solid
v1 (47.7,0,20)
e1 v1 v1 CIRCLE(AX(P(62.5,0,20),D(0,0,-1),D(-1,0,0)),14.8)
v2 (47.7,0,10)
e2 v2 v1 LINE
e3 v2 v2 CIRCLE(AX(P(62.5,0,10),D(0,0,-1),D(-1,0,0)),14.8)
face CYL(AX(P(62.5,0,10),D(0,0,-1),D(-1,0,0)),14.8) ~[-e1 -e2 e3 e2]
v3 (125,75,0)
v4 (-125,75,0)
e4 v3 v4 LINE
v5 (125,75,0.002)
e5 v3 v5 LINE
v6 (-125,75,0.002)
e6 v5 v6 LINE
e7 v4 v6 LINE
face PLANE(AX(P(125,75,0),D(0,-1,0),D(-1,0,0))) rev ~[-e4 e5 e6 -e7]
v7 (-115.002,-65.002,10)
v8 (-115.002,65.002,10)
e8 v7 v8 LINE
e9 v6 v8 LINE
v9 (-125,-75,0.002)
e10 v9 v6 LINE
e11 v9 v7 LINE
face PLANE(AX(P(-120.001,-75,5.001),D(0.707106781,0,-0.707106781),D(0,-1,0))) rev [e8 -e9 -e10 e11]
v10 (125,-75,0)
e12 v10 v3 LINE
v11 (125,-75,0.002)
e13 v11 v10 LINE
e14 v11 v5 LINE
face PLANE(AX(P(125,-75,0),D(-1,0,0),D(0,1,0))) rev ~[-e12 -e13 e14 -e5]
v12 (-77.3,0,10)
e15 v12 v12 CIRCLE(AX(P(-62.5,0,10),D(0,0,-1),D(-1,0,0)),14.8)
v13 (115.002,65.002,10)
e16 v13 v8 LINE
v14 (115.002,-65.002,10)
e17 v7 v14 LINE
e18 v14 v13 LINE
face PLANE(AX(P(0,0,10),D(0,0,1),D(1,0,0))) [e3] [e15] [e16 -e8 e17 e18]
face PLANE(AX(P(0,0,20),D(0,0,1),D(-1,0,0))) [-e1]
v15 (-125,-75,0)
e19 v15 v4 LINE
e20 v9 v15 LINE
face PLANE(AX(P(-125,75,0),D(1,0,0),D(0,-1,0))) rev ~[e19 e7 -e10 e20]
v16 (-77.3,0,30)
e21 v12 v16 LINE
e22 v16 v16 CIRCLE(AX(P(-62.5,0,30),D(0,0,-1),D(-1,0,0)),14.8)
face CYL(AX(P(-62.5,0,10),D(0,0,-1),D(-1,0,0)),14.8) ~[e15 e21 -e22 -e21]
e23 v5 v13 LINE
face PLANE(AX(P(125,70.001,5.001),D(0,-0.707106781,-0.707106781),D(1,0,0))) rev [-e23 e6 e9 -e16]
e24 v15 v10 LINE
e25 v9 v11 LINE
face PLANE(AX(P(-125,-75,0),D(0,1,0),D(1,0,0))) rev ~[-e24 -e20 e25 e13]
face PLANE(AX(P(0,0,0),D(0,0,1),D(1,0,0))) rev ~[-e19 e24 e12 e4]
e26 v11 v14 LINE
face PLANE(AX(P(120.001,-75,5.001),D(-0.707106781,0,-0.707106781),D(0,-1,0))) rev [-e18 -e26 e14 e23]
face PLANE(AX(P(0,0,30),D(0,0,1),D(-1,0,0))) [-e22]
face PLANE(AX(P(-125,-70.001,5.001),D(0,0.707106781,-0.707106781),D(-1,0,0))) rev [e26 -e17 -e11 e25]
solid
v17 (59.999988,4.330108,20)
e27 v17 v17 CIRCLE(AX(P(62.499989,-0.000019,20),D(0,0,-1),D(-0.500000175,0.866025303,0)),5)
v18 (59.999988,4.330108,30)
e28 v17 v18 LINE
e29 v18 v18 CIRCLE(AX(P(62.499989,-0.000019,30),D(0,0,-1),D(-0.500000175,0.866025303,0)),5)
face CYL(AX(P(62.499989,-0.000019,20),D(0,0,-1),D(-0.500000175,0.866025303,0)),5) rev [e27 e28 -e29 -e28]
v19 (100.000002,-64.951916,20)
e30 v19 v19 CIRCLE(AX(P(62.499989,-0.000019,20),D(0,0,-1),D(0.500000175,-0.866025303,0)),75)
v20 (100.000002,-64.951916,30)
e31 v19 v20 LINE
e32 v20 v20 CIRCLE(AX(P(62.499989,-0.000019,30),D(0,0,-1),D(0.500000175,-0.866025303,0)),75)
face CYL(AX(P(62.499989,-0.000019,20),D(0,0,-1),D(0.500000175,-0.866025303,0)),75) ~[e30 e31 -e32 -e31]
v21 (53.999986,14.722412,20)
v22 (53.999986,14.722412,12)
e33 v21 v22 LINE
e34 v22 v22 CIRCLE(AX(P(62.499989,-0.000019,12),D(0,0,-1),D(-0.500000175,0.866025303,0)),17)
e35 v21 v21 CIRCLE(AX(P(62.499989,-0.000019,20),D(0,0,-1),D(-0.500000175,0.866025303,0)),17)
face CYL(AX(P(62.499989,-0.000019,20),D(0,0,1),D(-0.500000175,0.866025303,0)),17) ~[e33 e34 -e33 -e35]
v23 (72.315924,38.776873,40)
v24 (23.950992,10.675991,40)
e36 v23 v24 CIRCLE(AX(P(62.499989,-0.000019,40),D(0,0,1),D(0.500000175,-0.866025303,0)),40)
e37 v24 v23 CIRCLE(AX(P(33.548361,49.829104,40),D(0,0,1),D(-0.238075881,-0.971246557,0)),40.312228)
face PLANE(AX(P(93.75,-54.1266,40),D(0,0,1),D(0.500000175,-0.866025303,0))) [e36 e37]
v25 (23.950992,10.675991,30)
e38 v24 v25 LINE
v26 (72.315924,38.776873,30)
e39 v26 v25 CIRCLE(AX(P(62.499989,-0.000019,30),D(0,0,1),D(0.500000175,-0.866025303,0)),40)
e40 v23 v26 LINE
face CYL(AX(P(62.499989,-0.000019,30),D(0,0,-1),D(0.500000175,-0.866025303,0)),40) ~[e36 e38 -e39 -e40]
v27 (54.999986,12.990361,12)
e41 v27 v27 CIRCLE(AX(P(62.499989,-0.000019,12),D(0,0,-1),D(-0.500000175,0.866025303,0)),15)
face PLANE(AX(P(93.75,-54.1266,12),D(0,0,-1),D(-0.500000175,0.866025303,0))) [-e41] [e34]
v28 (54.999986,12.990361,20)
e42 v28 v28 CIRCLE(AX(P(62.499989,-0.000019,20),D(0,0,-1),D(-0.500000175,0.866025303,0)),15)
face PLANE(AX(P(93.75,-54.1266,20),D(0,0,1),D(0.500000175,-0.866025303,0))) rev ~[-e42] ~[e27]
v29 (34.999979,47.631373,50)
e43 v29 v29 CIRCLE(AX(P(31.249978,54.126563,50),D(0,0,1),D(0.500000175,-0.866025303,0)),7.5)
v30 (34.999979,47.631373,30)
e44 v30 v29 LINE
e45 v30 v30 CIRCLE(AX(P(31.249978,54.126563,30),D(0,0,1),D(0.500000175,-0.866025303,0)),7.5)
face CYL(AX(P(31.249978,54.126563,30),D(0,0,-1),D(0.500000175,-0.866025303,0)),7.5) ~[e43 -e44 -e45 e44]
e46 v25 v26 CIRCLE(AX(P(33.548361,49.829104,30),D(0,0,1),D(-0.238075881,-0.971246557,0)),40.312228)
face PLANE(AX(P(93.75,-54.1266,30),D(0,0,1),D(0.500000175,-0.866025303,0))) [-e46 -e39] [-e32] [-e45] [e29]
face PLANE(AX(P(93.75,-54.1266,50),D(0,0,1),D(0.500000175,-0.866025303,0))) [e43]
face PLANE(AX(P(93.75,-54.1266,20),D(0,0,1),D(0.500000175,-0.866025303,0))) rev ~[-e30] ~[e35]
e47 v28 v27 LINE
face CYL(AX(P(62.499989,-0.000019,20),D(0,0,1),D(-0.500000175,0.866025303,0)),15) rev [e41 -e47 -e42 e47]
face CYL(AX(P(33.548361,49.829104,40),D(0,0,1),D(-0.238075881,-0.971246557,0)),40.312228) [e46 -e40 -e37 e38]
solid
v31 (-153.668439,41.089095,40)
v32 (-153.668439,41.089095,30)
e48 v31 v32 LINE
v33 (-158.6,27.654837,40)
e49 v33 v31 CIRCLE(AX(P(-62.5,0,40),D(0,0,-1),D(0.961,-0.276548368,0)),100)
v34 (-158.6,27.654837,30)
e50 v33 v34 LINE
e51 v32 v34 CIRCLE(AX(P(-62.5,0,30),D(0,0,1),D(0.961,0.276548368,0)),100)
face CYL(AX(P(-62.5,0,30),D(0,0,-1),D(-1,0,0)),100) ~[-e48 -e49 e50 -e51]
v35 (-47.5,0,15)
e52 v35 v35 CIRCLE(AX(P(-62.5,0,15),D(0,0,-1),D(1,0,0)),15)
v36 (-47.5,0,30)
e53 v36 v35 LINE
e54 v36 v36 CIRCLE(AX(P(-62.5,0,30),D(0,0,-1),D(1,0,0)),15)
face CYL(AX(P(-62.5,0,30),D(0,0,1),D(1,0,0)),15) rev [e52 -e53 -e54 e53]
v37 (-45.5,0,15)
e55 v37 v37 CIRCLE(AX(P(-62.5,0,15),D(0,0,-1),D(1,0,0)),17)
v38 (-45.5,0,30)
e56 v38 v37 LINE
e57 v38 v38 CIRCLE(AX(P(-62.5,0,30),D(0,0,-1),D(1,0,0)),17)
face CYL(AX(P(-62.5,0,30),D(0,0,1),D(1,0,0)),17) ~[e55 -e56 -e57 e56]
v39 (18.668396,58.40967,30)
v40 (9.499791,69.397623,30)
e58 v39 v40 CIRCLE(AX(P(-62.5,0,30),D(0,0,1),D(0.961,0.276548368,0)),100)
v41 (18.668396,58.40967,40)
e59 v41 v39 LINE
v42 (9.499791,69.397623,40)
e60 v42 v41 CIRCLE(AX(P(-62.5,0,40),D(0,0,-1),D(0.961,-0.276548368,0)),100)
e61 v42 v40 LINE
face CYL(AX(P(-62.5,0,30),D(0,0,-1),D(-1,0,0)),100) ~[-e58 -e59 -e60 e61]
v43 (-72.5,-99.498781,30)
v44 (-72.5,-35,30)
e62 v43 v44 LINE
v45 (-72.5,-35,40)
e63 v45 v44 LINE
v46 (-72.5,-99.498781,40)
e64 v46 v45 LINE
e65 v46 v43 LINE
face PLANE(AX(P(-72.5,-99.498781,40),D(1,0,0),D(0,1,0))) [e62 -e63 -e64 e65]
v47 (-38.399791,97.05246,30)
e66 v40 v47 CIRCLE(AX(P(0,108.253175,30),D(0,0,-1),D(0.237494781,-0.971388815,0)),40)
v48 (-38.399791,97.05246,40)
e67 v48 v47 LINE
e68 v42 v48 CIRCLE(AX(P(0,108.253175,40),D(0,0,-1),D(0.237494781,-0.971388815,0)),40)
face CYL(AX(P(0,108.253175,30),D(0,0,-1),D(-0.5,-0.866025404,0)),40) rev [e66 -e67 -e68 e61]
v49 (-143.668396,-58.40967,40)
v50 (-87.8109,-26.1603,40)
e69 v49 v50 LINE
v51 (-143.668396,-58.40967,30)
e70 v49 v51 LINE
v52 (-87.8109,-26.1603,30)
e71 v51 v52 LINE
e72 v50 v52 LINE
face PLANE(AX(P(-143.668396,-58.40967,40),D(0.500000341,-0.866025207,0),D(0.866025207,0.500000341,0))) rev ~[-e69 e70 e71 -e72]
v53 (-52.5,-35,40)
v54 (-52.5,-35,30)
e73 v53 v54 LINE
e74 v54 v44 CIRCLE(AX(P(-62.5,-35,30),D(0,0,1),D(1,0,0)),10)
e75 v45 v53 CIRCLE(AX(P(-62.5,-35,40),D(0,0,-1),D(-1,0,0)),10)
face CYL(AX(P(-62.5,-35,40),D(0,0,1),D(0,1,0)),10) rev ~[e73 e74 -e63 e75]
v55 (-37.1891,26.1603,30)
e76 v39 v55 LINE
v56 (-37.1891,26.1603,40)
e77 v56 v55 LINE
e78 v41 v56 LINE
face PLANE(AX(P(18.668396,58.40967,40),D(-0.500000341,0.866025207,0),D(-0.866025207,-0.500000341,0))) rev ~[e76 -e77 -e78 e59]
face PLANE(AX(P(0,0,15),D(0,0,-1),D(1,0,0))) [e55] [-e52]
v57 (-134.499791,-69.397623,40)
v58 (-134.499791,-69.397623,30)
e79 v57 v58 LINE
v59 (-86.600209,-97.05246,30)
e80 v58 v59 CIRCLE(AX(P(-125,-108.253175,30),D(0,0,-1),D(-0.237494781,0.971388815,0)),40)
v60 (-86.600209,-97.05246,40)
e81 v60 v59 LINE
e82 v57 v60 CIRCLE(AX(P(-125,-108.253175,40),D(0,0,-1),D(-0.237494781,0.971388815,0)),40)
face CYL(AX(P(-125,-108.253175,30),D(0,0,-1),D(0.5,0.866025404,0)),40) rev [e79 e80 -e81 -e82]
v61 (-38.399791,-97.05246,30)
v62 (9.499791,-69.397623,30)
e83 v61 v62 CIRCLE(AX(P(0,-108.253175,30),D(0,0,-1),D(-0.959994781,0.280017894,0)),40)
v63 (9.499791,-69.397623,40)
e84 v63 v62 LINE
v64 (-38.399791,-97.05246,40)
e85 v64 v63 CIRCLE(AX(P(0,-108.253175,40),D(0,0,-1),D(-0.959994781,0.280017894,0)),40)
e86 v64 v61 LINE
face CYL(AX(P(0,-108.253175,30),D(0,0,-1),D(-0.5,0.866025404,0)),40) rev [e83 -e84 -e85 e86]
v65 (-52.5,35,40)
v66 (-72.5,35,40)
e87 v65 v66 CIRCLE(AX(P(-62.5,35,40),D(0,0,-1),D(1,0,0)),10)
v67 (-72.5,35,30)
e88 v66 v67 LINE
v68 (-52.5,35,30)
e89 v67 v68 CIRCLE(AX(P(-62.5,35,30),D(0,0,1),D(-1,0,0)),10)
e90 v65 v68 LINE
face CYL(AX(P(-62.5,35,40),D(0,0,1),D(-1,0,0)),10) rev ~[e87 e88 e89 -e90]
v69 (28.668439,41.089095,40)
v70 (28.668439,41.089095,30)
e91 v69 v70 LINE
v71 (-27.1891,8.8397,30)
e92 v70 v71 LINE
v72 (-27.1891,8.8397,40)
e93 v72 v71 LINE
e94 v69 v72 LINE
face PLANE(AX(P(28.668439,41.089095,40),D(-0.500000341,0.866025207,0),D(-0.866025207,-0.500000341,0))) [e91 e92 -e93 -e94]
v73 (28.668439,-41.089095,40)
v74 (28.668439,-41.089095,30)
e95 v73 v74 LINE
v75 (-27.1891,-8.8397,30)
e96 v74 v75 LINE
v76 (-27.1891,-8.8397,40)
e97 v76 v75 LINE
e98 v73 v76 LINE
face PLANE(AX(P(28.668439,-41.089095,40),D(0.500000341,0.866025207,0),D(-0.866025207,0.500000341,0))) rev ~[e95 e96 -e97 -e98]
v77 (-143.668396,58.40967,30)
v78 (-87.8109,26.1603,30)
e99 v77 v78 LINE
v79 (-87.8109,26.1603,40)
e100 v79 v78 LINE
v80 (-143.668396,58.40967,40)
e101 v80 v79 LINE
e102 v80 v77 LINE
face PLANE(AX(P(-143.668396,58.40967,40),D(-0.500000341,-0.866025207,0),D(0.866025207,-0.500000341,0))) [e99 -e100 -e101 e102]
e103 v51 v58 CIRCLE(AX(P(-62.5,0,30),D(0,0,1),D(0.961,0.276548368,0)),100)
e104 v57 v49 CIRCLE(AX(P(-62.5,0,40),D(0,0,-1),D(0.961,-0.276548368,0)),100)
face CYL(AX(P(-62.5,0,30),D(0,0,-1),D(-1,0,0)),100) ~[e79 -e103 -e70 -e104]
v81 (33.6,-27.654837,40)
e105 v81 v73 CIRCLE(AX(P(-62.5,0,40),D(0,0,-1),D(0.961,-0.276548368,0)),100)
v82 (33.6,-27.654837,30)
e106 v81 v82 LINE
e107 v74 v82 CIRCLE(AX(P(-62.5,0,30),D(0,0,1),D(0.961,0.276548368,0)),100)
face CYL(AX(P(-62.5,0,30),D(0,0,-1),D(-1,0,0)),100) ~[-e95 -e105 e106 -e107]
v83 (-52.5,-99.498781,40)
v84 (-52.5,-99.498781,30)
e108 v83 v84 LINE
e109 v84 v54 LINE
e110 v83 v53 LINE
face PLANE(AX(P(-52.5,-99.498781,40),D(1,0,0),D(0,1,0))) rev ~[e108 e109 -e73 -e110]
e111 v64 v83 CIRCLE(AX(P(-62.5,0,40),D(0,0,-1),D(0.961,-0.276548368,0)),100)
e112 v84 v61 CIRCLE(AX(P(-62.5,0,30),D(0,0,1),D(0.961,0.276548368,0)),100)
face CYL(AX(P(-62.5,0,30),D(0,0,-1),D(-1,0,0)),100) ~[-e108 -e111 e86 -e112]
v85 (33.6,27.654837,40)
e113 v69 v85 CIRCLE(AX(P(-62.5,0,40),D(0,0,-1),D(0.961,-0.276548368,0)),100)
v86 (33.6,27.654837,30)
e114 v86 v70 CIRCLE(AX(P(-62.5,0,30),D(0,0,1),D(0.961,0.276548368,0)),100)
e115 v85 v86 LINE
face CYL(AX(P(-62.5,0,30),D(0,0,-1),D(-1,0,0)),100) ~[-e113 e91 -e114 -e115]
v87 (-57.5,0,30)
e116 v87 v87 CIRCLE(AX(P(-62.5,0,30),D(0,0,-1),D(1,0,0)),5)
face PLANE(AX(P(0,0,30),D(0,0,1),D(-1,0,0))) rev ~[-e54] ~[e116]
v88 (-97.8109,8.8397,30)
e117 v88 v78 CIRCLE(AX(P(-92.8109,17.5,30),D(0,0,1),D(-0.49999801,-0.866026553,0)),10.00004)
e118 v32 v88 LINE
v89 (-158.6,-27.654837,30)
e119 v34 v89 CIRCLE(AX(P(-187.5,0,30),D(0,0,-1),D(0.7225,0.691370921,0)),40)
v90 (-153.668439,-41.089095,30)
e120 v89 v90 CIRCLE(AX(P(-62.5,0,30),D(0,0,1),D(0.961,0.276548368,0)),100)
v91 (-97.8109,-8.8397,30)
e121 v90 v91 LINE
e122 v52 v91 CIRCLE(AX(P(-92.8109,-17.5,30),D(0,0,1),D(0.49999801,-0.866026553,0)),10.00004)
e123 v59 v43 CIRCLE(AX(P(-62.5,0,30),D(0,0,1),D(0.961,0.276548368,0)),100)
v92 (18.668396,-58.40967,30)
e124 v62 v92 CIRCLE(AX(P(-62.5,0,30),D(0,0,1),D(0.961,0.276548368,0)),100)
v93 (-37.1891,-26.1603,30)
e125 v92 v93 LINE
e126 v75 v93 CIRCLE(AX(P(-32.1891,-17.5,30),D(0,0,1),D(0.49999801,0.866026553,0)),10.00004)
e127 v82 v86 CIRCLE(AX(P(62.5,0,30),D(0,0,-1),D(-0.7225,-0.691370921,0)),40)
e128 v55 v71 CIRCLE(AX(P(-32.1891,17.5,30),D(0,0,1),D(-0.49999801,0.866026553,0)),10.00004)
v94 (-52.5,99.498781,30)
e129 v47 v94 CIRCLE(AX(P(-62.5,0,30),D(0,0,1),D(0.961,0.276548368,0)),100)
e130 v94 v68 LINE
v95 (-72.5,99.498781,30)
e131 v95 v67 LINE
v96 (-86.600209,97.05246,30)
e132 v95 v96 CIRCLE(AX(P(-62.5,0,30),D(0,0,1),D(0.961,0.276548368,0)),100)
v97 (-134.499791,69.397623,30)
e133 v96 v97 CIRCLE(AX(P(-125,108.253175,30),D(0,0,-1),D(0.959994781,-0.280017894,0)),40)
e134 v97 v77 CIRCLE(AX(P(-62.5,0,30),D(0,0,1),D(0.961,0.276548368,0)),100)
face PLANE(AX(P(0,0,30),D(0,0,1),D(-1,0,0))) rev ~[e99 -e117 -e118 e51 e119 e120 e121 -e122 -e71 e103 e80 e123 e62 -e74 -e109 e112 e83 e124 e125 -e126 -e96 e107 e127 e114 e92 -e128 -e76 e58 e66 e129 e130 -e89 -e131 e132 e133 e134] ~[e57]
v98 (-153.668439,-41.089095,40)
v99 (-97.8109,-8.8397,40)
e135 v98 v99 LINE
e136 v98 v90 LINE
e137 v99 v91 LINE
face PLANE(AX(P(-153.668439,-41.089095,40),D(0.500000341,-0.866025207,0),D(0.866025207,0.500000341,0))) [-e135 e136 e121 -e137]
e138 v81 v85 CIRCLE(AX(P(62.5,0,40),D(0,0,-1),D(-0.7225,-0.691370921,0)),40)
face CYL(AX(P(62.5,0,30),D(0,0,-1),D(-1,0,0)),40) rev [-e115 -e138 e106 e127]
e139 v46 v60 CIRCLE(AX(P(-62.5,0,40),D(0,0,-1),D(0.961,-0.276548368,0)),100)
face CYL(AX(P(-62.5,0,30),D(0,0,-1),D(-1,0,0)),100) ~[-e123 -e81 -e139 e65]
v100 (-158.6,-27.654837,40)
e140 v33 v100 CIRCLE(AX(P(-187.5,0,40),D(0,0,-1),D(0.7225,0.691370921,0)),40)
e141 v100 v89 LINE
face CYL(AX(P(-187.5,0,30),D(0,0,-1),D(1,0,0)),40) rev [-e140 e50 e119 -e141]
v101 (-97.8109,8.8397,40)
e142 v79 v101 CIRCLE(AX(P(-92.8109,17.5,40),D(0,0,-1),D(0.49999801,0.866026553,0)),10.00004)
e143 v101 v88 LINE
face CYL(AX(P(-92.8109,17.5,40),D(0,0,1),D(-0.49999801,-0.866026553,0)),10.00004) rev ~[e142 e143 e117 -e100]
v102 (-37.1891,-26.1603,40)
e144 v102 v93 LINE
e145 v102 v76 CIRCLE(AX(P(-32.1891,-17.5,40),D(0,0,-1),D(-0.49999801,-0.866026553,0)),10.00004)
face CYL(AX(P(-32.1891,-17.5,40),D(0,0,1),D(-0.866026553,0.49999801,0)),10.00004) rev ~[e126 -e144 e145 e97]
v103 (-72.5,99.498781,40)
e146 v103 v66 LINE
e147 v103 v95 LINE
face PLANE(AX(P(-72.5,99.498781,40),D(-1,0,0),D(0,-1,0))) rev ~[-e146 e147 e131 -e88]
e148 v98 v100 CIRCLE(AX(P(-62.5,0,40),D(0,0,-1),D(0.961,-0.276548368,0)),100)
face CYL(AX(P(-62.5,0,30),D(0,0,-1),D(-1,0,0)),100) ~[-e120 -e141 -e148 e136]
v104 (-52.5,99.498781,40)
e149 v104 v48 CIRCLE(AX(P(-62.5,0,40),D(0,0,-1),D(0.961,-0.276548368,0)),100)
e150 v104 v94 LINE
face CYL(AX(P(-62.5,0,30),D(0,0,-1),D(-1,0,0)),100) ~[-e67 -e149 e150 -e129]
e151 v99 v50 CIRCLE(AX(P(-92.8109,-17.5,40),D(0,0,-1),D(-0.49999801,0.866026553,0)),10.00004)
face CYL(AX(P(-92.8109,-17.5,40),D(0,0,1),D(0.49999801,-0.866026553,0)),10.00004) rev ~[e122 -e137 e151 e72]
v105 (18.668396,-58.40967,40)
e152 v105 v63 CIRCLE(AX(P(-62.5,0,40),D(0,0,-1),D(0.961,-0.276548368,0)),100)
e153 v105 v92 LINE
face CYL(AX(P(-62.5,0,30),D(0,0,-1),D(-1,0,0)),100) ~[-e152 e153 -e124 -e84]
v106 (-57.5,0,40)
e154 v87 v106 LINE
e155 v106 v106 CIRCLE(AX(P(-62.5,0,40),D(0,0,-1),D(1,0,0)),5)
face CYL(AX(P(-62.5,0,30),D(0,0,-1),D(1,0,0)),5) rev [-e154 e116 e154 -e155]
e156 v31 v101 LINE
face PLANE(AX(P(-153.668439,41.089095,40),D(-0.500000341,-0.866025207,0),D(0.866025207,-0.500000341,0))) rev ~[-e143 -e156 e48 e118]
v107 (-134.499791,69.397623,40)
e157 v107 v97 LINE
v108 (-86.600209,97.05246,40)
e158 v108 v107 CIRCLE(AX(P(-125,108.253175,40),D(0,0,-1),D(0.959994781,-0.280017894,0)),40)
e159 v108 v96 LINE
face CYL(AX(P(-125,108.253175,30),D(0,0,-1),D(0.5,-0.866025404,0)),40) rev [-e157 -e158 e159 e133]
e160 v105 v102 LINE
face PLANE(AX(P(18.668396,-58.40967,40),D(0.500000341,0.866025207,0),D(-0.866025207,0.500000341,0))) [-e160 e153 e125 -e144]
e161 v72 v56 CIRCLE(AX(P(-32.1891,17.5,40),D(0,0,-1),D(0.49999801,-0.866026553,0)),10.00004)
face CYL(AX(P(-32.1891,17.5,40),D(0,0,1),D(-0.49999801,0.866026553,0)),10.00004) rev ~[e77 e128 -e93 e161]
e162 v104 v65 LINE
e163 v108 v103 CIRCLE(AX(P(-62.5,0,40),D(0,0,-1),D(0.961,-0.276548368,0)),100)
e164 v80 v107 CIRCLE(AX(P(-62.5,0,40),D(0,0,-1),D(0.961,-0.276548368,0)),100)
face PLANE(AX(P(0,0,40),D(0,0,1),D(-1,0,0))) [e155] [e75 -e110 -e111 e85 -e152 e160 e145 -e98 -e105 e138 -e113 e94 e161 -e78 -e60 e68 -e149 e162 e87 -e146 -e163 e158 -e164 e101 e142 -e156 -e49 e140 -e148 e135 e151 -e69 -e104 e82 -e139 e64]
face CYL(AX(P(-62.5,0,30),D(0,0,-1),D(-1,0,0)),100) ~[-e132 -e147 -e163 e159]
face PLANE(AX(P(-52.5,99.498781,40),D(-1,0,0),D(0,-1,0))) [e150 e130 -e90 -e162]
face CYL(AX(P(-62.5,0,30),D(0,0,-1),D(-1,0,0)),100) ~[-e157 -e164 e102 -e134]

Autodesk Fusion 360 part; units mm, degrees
sketch "Base" plane through (0, 0, 0) normal (0, 0, 1) x (1, 0, 0) in component "Base"
  line L0 (125, 75) -> (-125, 75)
  line L1 (-125, 75) -> (-125, -75)
  line L2 (-125, -75) -> (125, -75)
  line L3 (125, -75) -> (125, 75)
  line L4 (125, 75) -> (-125, -75) construction
  line L5 (-125, 75) -> (125, -75) construction
  dimension "d1" = 250
  dimension "d2" = 150
extrude "Extrude1" add sketch "Base" along normal blind 10 makes body 1 in component "Base"
sketch "Wheels" plane through (0, 0, 10) normal (0, 0, 1) x (-1, 0, 0) in component "Base"
  line L0 (-125, 75) -> (-125, -75)
  line L1 (-125, -75) -> (125, -75)
  line L2 (125, -75) -> (125, 75)
  line L3 (125, 75) -> (-125, 75)
  line L4 (0, 0) -> (-125, 0) construction
  line L5 (0, 0) -> (125, 0) construction
  line L6 (0, -75) -> (0, 75) construction
  circle A0 centre (-62.5, 0) radius 75
  circle A1 centre (62.5, 0) radius 75
  circle A2 centre (-62.5, 0) radius 15
  circle A3 centre (62.5, 0) radius 15
  dimension "d5" = 150
  dimension "d6" = 30
  dimension "d7" = 30
extrude "Extrude2" add sketch "Wheels" along normal blind 20 and the other way blind -10 separate body contours L0 A0 A1 | L0 A0 | A0 A1 makes body 2 in component "Base"
copy_body "CutPasteBodies1" bodies 2 removing the originals makes body 3 in component "Crank"
extrude "Extrude3" add sketch "Wheels" along normal blind 10 contours A2 bodies 1 in component "Base"
extrude "Extrude1'" add sketch "Wheels" along normal blind 30 and the other way blind -20 separate body contours L2 A0 A1 | A0 A1 | L2 A1 makes body 4 in component "Snowflake"
extrude "Extrude4" add sketch "Wheels" along normal blind 20 contours A3 bodies 1 in component "Base"
move_face "OffsetFaces1" offset 25 1 faces at (-137.1273, -7.4676, 36.6667) on bodies 4 in component "Snowflake"
move_face "OffsetFaces2" offset 20 1 faces at (-77.4814, -0.7477, 33.3333) on bodies 4 in component "Snowflake"
move_face "OffsetFaces1'" offset 20 1 faces at (47.5186, 0.7477, 26.6667) on bodies 3 in component "Crank"
sketch "Holder" plane through (0, 0, 30) normal (0, 0, -1) x (1, 0, 0) in component "Snowflake"
  circle A0 centre (-62.5, 0) radius 100
  circle A1 centre (-62.5, 0) radius 15
  circle A2 centre (-62.5, 0) radius 17
  dimension "d25" = 30
  dimension "d26" = 2
extrude "Extrude3'" add sketch "Holder" along normal blind 15 contours A2 bodies 4 in component "Snowflake"
sketch "Holder (2)" plane through (0, 0, 20) normal (0, 0, -1) x (1, 0, 0) in component "Crank"
  circle A0 centre (62.5, 0) radius 75
  circle A1 centre (62.5, 0) radius 15
  circle A2 centre (62.5, 0) radius 17
  dimension "d29" = 30
  dimension "d30" = 2
extrude "Extrude1''" add sketch "Holder (2)" along normal blind 8 contours A2 bodies 3 in component "Crank"
move_face "OffsetFaces1''" offset -0.2 1 faces at (-77.4814, 0.7477, 23.3333) on bodies 1 in component "Base"
move_face "OffsetFaces2'" offset -0.2 1 faces at (47.5186, -0.7477, 13.3333) on bodies 1 in component "Base"
sketch "Middle" plane through (0, 0, 30) normal (0, 0, 1) x (-1, 0, 0) in component "Crank"
  circle A0 centre (-62.5, 0) radius 75
  circle A1 centre (-62.5, 0) radius 40
  dimension "d43" = 80
extrude "Extrude2'" add sketch "Middle" along normal blind 10 contours A1 bodies 3 in component "Crank"
extrude "Extrude4'" cut sketch "Middle" along normal blind 10 contours A1 bodies 4 in component "Snowflake"
pattern_circular "C-Pattern1" count 6 over 360 about axis through (-62.5, 0, 40) along (0, 0, 1) of "Extrude4'" in component "Snowflake"
sketch "Pin" plane through (0, 0, 30) normal (0, 0, 1) x (-1, 0, 0) in component "Crank"
  circle A0 centre (-62.5, 0) radius 40
  circle A1 centre (-62.5, 0) radius 75
  circle A2 centre (-125, 0) radius 7.5
  dimension "d50" = 15
extrude "Extrude3''" add sketch "Pin" along normal blind 20 contours A2 bodies 3 in component "Crank"
sketch "Middle cut" plane through (0, 0, 40) normal (0, 0, 1) x (-1, 0, 0) in component "Crank"
  circle A0 centre (-62.5, 0) radius 40
  arc A1 (-91.0202, -28.0464) -> (-91.1738, 27.8893) centre (-120.1291, -0.1582) ccw
  circle A2 centre (-62.5, 0) radius 40
sketch "Pin holes" plane through (0, 0, 40) normal (0, 0, 1) x (-1, 0, 0) in component "Snowflake"
  arc A0 (-9.4998, 69.3976) -> (38.3998, 97.0525) centre (0, 108.2532) ccw
  arc A1 (-9.4998, 69.3976) -> (-33.6, 27.6548) centre (62.5, 0) ccw
  arc A2 (-33.6, -27.6548) -> (-33.6, 27.6548) centre (-62.5, 0) ccw
  arc A3 (-33.6, -27.6548) -> (-9.4998, -69.3976) centre (62.5, 0) ccw
  arc A4 (38.3998, -97.0525) -> (-9.4998, -69.3976) centre (0, -108.2532) ccw
  arc A5 (38.3998, -97.0525) -> (86.6002, -97.0525) centre (62.5, 0) ccw
  arc A6 (134.4998, -69.3976) -> (86.6002, -97.0525) centre (125, -108.2532) ccw
  arc A7 (134.4998, -69.3976) -> (158.6, -27.6548) centre (62.5, 0) ccw
  arc A8 (158.6, 27.6548) -> (158.6, -27.6548) centre (187.5, 0) ccw
  arc A9 (158.6, 27.6548) -> (134.4998, 69.3976) centre (62.5, 0) ccw
  arc A10 (86.6002, 97.0525) -> (134.4998, 69.3976) centre (125, 108.2532) ccw
  arc A11 (86.6002, 97.0525) -> (38.3998, 97.0525) centre (62.5, 0) ccw
  circle A12 centre (62.5, 0) radius 25
  line L0 (62.5, -100) -> (62.5, 100) construction
  line L1 (62.5, -100) -> (72.5, -100) construction
  line L2 (62.5, -100) -> (52.5, -100) construction
  line L3 (72.5, -100) -> (72.5, -35)
  line L4 (52.5, -100) -> (52.5, -35)
  line L5 (62.5, -25) -> (62.5, -25)
  arc A13 (72.5, -35) -> (62.5, -25) centre (62.5, -35) ccw
  arc A14 (62.5, -25) -> (52.5, -35) centre (62.5, -35) ccw
  line L6 (144.1025, -58.6603) -> (87.8109, -26.1603)
  line L7 (154.1025, -41.3397) -> (97.8109, -8.8397)
  arc A15 (97.8109, -8.8397) -> (84.1506, -12.5) centre (92.8109, -17.5) ccw
  arc A16 (84.1506, -12.5) -> (87.8109, -26.1603) centre (92.8109, -17.5) ccw
  line L8 (149.1025, -50) -> (144.1025, -58.6603) construction
  line L9 (149.1025, -50) -> (154.1025, -41.3397) construction
  line L10 (154.1025, 41.3397) -> (97.8109, 8.8397)
  line L11 (144.1025, 58.6603) -> (87.8109, 26.1603)
  arc A17 (87.8109, 26.1603) -> (84.1506, 12.5) centre (92.8109, 17.5) ccw
  arc A18 (84.1506, 12.5) -> (97.8109, 8.8397) centre (92.8109, 17.5) ccw
  line L12 (149.1025, 50) -> (154.1025, 41.3397) construction
  line L13 (149.1025, 50) -> (144.1025, 58.6603) construction
  line L14 (72.5, 100) -> (72.5, 35)
  line L15 (52.5, 100) -> (52.5, 35)
  arc A19 (52.5, 35) -> (62.5, 25) centre (62.5, 35) ccw
  arc A20 (62.5, 25) -> (72.5, 35) centre (62.5, 35) ccw
  line L16 (62.5, 100) -> (72.5, 100) construction
  line L17 (62.5, 100) -> (52.5, 100) construction
  line L18 (-19.1025, 58.6603) -> (37.1891, 26.1603)
  line L19 (-29.1025, 41.3397) -> (27.1891, 8.8397)
  arc A21 (27.1891, 8.8397) -> (40.8494, 12.5) centre (32.1891, 17.5) ccw
  arc A22 (40.8494, 12.5) -> (37.1891, 26.1603) centre (32.1891, 17.5) ccw
  line L20 (-24.1025, 50) -> (-19.1025, 58.6603) construction
  line L21 (-24.1025, 50) -> (-29.1025, 41.3397) construction
  line L22 (-29.1025, -41.3397) -> (27.1891, -8.8397)
  line L23 (-19.1025, -58.6603) -> (37.1891, -26.1603)
  arc A23 (37.1891, -26.1603) -> (40.8494, -12.5) centre (32.1891, -17.5) ccw
  arc A24 (40.8494, -12.5) -> (27.1891, -8.8397) centre (32.1891, -17.5) ccw
  line L24 (-24.1025, -50) -> (-29.1025, -41.3397) construction
  line L25 (-24.1025, -50) -> (-19.1025, -58.6603) construction
  dimension "d56" = 50
  dimension "d59" = 10
  dimension "d60" = 10
  dimension "d61" = 10
  dimension "d63" = 360
extrude "Extrude5" cut sketch "Pin holes" against normal blind 10 contours A1 L18 L19 A21 A22 | A11 L14 L15 A19 A20 | A3 L22 L23 A23 A24 | A9 L10 L11 A17 A18 | A5 L3 L4 A13 A14 | A7 L6 L7 A15 A16 bodies 4 in component "Snowflake"
extrude "Extrude5'" cut sketch "Middle cut" against normal blind 10 contours A0 A1 A2 picked at (-41.7869, 2.8878) bodies 3 in component "Crank"
chamfer "Chamfer1" distance 10 angle 45 4 edges at (0, -75, 10) (125, 0, 10) (0, 75, 10) (-125, 0, 10) on bodies 1 in component "Base"
extrude "Extrude4''" [suppressed] in component "Crank"
component "Base" placed x (1, 0, 0) y (0, 1, 0) z (0, 0, 1) at (0, 0, 0)
component "Snowflake" placed x (1, 0, 0) y (0, 1, 0) z (0, 0, 1) at (0, 0, 0)
component "Crank" placed x (-0.5, 0.866025, 0) y (-0.866025, -0.5, 0) z (0, 0, 1) at (93.75, -54.1266, 0)
